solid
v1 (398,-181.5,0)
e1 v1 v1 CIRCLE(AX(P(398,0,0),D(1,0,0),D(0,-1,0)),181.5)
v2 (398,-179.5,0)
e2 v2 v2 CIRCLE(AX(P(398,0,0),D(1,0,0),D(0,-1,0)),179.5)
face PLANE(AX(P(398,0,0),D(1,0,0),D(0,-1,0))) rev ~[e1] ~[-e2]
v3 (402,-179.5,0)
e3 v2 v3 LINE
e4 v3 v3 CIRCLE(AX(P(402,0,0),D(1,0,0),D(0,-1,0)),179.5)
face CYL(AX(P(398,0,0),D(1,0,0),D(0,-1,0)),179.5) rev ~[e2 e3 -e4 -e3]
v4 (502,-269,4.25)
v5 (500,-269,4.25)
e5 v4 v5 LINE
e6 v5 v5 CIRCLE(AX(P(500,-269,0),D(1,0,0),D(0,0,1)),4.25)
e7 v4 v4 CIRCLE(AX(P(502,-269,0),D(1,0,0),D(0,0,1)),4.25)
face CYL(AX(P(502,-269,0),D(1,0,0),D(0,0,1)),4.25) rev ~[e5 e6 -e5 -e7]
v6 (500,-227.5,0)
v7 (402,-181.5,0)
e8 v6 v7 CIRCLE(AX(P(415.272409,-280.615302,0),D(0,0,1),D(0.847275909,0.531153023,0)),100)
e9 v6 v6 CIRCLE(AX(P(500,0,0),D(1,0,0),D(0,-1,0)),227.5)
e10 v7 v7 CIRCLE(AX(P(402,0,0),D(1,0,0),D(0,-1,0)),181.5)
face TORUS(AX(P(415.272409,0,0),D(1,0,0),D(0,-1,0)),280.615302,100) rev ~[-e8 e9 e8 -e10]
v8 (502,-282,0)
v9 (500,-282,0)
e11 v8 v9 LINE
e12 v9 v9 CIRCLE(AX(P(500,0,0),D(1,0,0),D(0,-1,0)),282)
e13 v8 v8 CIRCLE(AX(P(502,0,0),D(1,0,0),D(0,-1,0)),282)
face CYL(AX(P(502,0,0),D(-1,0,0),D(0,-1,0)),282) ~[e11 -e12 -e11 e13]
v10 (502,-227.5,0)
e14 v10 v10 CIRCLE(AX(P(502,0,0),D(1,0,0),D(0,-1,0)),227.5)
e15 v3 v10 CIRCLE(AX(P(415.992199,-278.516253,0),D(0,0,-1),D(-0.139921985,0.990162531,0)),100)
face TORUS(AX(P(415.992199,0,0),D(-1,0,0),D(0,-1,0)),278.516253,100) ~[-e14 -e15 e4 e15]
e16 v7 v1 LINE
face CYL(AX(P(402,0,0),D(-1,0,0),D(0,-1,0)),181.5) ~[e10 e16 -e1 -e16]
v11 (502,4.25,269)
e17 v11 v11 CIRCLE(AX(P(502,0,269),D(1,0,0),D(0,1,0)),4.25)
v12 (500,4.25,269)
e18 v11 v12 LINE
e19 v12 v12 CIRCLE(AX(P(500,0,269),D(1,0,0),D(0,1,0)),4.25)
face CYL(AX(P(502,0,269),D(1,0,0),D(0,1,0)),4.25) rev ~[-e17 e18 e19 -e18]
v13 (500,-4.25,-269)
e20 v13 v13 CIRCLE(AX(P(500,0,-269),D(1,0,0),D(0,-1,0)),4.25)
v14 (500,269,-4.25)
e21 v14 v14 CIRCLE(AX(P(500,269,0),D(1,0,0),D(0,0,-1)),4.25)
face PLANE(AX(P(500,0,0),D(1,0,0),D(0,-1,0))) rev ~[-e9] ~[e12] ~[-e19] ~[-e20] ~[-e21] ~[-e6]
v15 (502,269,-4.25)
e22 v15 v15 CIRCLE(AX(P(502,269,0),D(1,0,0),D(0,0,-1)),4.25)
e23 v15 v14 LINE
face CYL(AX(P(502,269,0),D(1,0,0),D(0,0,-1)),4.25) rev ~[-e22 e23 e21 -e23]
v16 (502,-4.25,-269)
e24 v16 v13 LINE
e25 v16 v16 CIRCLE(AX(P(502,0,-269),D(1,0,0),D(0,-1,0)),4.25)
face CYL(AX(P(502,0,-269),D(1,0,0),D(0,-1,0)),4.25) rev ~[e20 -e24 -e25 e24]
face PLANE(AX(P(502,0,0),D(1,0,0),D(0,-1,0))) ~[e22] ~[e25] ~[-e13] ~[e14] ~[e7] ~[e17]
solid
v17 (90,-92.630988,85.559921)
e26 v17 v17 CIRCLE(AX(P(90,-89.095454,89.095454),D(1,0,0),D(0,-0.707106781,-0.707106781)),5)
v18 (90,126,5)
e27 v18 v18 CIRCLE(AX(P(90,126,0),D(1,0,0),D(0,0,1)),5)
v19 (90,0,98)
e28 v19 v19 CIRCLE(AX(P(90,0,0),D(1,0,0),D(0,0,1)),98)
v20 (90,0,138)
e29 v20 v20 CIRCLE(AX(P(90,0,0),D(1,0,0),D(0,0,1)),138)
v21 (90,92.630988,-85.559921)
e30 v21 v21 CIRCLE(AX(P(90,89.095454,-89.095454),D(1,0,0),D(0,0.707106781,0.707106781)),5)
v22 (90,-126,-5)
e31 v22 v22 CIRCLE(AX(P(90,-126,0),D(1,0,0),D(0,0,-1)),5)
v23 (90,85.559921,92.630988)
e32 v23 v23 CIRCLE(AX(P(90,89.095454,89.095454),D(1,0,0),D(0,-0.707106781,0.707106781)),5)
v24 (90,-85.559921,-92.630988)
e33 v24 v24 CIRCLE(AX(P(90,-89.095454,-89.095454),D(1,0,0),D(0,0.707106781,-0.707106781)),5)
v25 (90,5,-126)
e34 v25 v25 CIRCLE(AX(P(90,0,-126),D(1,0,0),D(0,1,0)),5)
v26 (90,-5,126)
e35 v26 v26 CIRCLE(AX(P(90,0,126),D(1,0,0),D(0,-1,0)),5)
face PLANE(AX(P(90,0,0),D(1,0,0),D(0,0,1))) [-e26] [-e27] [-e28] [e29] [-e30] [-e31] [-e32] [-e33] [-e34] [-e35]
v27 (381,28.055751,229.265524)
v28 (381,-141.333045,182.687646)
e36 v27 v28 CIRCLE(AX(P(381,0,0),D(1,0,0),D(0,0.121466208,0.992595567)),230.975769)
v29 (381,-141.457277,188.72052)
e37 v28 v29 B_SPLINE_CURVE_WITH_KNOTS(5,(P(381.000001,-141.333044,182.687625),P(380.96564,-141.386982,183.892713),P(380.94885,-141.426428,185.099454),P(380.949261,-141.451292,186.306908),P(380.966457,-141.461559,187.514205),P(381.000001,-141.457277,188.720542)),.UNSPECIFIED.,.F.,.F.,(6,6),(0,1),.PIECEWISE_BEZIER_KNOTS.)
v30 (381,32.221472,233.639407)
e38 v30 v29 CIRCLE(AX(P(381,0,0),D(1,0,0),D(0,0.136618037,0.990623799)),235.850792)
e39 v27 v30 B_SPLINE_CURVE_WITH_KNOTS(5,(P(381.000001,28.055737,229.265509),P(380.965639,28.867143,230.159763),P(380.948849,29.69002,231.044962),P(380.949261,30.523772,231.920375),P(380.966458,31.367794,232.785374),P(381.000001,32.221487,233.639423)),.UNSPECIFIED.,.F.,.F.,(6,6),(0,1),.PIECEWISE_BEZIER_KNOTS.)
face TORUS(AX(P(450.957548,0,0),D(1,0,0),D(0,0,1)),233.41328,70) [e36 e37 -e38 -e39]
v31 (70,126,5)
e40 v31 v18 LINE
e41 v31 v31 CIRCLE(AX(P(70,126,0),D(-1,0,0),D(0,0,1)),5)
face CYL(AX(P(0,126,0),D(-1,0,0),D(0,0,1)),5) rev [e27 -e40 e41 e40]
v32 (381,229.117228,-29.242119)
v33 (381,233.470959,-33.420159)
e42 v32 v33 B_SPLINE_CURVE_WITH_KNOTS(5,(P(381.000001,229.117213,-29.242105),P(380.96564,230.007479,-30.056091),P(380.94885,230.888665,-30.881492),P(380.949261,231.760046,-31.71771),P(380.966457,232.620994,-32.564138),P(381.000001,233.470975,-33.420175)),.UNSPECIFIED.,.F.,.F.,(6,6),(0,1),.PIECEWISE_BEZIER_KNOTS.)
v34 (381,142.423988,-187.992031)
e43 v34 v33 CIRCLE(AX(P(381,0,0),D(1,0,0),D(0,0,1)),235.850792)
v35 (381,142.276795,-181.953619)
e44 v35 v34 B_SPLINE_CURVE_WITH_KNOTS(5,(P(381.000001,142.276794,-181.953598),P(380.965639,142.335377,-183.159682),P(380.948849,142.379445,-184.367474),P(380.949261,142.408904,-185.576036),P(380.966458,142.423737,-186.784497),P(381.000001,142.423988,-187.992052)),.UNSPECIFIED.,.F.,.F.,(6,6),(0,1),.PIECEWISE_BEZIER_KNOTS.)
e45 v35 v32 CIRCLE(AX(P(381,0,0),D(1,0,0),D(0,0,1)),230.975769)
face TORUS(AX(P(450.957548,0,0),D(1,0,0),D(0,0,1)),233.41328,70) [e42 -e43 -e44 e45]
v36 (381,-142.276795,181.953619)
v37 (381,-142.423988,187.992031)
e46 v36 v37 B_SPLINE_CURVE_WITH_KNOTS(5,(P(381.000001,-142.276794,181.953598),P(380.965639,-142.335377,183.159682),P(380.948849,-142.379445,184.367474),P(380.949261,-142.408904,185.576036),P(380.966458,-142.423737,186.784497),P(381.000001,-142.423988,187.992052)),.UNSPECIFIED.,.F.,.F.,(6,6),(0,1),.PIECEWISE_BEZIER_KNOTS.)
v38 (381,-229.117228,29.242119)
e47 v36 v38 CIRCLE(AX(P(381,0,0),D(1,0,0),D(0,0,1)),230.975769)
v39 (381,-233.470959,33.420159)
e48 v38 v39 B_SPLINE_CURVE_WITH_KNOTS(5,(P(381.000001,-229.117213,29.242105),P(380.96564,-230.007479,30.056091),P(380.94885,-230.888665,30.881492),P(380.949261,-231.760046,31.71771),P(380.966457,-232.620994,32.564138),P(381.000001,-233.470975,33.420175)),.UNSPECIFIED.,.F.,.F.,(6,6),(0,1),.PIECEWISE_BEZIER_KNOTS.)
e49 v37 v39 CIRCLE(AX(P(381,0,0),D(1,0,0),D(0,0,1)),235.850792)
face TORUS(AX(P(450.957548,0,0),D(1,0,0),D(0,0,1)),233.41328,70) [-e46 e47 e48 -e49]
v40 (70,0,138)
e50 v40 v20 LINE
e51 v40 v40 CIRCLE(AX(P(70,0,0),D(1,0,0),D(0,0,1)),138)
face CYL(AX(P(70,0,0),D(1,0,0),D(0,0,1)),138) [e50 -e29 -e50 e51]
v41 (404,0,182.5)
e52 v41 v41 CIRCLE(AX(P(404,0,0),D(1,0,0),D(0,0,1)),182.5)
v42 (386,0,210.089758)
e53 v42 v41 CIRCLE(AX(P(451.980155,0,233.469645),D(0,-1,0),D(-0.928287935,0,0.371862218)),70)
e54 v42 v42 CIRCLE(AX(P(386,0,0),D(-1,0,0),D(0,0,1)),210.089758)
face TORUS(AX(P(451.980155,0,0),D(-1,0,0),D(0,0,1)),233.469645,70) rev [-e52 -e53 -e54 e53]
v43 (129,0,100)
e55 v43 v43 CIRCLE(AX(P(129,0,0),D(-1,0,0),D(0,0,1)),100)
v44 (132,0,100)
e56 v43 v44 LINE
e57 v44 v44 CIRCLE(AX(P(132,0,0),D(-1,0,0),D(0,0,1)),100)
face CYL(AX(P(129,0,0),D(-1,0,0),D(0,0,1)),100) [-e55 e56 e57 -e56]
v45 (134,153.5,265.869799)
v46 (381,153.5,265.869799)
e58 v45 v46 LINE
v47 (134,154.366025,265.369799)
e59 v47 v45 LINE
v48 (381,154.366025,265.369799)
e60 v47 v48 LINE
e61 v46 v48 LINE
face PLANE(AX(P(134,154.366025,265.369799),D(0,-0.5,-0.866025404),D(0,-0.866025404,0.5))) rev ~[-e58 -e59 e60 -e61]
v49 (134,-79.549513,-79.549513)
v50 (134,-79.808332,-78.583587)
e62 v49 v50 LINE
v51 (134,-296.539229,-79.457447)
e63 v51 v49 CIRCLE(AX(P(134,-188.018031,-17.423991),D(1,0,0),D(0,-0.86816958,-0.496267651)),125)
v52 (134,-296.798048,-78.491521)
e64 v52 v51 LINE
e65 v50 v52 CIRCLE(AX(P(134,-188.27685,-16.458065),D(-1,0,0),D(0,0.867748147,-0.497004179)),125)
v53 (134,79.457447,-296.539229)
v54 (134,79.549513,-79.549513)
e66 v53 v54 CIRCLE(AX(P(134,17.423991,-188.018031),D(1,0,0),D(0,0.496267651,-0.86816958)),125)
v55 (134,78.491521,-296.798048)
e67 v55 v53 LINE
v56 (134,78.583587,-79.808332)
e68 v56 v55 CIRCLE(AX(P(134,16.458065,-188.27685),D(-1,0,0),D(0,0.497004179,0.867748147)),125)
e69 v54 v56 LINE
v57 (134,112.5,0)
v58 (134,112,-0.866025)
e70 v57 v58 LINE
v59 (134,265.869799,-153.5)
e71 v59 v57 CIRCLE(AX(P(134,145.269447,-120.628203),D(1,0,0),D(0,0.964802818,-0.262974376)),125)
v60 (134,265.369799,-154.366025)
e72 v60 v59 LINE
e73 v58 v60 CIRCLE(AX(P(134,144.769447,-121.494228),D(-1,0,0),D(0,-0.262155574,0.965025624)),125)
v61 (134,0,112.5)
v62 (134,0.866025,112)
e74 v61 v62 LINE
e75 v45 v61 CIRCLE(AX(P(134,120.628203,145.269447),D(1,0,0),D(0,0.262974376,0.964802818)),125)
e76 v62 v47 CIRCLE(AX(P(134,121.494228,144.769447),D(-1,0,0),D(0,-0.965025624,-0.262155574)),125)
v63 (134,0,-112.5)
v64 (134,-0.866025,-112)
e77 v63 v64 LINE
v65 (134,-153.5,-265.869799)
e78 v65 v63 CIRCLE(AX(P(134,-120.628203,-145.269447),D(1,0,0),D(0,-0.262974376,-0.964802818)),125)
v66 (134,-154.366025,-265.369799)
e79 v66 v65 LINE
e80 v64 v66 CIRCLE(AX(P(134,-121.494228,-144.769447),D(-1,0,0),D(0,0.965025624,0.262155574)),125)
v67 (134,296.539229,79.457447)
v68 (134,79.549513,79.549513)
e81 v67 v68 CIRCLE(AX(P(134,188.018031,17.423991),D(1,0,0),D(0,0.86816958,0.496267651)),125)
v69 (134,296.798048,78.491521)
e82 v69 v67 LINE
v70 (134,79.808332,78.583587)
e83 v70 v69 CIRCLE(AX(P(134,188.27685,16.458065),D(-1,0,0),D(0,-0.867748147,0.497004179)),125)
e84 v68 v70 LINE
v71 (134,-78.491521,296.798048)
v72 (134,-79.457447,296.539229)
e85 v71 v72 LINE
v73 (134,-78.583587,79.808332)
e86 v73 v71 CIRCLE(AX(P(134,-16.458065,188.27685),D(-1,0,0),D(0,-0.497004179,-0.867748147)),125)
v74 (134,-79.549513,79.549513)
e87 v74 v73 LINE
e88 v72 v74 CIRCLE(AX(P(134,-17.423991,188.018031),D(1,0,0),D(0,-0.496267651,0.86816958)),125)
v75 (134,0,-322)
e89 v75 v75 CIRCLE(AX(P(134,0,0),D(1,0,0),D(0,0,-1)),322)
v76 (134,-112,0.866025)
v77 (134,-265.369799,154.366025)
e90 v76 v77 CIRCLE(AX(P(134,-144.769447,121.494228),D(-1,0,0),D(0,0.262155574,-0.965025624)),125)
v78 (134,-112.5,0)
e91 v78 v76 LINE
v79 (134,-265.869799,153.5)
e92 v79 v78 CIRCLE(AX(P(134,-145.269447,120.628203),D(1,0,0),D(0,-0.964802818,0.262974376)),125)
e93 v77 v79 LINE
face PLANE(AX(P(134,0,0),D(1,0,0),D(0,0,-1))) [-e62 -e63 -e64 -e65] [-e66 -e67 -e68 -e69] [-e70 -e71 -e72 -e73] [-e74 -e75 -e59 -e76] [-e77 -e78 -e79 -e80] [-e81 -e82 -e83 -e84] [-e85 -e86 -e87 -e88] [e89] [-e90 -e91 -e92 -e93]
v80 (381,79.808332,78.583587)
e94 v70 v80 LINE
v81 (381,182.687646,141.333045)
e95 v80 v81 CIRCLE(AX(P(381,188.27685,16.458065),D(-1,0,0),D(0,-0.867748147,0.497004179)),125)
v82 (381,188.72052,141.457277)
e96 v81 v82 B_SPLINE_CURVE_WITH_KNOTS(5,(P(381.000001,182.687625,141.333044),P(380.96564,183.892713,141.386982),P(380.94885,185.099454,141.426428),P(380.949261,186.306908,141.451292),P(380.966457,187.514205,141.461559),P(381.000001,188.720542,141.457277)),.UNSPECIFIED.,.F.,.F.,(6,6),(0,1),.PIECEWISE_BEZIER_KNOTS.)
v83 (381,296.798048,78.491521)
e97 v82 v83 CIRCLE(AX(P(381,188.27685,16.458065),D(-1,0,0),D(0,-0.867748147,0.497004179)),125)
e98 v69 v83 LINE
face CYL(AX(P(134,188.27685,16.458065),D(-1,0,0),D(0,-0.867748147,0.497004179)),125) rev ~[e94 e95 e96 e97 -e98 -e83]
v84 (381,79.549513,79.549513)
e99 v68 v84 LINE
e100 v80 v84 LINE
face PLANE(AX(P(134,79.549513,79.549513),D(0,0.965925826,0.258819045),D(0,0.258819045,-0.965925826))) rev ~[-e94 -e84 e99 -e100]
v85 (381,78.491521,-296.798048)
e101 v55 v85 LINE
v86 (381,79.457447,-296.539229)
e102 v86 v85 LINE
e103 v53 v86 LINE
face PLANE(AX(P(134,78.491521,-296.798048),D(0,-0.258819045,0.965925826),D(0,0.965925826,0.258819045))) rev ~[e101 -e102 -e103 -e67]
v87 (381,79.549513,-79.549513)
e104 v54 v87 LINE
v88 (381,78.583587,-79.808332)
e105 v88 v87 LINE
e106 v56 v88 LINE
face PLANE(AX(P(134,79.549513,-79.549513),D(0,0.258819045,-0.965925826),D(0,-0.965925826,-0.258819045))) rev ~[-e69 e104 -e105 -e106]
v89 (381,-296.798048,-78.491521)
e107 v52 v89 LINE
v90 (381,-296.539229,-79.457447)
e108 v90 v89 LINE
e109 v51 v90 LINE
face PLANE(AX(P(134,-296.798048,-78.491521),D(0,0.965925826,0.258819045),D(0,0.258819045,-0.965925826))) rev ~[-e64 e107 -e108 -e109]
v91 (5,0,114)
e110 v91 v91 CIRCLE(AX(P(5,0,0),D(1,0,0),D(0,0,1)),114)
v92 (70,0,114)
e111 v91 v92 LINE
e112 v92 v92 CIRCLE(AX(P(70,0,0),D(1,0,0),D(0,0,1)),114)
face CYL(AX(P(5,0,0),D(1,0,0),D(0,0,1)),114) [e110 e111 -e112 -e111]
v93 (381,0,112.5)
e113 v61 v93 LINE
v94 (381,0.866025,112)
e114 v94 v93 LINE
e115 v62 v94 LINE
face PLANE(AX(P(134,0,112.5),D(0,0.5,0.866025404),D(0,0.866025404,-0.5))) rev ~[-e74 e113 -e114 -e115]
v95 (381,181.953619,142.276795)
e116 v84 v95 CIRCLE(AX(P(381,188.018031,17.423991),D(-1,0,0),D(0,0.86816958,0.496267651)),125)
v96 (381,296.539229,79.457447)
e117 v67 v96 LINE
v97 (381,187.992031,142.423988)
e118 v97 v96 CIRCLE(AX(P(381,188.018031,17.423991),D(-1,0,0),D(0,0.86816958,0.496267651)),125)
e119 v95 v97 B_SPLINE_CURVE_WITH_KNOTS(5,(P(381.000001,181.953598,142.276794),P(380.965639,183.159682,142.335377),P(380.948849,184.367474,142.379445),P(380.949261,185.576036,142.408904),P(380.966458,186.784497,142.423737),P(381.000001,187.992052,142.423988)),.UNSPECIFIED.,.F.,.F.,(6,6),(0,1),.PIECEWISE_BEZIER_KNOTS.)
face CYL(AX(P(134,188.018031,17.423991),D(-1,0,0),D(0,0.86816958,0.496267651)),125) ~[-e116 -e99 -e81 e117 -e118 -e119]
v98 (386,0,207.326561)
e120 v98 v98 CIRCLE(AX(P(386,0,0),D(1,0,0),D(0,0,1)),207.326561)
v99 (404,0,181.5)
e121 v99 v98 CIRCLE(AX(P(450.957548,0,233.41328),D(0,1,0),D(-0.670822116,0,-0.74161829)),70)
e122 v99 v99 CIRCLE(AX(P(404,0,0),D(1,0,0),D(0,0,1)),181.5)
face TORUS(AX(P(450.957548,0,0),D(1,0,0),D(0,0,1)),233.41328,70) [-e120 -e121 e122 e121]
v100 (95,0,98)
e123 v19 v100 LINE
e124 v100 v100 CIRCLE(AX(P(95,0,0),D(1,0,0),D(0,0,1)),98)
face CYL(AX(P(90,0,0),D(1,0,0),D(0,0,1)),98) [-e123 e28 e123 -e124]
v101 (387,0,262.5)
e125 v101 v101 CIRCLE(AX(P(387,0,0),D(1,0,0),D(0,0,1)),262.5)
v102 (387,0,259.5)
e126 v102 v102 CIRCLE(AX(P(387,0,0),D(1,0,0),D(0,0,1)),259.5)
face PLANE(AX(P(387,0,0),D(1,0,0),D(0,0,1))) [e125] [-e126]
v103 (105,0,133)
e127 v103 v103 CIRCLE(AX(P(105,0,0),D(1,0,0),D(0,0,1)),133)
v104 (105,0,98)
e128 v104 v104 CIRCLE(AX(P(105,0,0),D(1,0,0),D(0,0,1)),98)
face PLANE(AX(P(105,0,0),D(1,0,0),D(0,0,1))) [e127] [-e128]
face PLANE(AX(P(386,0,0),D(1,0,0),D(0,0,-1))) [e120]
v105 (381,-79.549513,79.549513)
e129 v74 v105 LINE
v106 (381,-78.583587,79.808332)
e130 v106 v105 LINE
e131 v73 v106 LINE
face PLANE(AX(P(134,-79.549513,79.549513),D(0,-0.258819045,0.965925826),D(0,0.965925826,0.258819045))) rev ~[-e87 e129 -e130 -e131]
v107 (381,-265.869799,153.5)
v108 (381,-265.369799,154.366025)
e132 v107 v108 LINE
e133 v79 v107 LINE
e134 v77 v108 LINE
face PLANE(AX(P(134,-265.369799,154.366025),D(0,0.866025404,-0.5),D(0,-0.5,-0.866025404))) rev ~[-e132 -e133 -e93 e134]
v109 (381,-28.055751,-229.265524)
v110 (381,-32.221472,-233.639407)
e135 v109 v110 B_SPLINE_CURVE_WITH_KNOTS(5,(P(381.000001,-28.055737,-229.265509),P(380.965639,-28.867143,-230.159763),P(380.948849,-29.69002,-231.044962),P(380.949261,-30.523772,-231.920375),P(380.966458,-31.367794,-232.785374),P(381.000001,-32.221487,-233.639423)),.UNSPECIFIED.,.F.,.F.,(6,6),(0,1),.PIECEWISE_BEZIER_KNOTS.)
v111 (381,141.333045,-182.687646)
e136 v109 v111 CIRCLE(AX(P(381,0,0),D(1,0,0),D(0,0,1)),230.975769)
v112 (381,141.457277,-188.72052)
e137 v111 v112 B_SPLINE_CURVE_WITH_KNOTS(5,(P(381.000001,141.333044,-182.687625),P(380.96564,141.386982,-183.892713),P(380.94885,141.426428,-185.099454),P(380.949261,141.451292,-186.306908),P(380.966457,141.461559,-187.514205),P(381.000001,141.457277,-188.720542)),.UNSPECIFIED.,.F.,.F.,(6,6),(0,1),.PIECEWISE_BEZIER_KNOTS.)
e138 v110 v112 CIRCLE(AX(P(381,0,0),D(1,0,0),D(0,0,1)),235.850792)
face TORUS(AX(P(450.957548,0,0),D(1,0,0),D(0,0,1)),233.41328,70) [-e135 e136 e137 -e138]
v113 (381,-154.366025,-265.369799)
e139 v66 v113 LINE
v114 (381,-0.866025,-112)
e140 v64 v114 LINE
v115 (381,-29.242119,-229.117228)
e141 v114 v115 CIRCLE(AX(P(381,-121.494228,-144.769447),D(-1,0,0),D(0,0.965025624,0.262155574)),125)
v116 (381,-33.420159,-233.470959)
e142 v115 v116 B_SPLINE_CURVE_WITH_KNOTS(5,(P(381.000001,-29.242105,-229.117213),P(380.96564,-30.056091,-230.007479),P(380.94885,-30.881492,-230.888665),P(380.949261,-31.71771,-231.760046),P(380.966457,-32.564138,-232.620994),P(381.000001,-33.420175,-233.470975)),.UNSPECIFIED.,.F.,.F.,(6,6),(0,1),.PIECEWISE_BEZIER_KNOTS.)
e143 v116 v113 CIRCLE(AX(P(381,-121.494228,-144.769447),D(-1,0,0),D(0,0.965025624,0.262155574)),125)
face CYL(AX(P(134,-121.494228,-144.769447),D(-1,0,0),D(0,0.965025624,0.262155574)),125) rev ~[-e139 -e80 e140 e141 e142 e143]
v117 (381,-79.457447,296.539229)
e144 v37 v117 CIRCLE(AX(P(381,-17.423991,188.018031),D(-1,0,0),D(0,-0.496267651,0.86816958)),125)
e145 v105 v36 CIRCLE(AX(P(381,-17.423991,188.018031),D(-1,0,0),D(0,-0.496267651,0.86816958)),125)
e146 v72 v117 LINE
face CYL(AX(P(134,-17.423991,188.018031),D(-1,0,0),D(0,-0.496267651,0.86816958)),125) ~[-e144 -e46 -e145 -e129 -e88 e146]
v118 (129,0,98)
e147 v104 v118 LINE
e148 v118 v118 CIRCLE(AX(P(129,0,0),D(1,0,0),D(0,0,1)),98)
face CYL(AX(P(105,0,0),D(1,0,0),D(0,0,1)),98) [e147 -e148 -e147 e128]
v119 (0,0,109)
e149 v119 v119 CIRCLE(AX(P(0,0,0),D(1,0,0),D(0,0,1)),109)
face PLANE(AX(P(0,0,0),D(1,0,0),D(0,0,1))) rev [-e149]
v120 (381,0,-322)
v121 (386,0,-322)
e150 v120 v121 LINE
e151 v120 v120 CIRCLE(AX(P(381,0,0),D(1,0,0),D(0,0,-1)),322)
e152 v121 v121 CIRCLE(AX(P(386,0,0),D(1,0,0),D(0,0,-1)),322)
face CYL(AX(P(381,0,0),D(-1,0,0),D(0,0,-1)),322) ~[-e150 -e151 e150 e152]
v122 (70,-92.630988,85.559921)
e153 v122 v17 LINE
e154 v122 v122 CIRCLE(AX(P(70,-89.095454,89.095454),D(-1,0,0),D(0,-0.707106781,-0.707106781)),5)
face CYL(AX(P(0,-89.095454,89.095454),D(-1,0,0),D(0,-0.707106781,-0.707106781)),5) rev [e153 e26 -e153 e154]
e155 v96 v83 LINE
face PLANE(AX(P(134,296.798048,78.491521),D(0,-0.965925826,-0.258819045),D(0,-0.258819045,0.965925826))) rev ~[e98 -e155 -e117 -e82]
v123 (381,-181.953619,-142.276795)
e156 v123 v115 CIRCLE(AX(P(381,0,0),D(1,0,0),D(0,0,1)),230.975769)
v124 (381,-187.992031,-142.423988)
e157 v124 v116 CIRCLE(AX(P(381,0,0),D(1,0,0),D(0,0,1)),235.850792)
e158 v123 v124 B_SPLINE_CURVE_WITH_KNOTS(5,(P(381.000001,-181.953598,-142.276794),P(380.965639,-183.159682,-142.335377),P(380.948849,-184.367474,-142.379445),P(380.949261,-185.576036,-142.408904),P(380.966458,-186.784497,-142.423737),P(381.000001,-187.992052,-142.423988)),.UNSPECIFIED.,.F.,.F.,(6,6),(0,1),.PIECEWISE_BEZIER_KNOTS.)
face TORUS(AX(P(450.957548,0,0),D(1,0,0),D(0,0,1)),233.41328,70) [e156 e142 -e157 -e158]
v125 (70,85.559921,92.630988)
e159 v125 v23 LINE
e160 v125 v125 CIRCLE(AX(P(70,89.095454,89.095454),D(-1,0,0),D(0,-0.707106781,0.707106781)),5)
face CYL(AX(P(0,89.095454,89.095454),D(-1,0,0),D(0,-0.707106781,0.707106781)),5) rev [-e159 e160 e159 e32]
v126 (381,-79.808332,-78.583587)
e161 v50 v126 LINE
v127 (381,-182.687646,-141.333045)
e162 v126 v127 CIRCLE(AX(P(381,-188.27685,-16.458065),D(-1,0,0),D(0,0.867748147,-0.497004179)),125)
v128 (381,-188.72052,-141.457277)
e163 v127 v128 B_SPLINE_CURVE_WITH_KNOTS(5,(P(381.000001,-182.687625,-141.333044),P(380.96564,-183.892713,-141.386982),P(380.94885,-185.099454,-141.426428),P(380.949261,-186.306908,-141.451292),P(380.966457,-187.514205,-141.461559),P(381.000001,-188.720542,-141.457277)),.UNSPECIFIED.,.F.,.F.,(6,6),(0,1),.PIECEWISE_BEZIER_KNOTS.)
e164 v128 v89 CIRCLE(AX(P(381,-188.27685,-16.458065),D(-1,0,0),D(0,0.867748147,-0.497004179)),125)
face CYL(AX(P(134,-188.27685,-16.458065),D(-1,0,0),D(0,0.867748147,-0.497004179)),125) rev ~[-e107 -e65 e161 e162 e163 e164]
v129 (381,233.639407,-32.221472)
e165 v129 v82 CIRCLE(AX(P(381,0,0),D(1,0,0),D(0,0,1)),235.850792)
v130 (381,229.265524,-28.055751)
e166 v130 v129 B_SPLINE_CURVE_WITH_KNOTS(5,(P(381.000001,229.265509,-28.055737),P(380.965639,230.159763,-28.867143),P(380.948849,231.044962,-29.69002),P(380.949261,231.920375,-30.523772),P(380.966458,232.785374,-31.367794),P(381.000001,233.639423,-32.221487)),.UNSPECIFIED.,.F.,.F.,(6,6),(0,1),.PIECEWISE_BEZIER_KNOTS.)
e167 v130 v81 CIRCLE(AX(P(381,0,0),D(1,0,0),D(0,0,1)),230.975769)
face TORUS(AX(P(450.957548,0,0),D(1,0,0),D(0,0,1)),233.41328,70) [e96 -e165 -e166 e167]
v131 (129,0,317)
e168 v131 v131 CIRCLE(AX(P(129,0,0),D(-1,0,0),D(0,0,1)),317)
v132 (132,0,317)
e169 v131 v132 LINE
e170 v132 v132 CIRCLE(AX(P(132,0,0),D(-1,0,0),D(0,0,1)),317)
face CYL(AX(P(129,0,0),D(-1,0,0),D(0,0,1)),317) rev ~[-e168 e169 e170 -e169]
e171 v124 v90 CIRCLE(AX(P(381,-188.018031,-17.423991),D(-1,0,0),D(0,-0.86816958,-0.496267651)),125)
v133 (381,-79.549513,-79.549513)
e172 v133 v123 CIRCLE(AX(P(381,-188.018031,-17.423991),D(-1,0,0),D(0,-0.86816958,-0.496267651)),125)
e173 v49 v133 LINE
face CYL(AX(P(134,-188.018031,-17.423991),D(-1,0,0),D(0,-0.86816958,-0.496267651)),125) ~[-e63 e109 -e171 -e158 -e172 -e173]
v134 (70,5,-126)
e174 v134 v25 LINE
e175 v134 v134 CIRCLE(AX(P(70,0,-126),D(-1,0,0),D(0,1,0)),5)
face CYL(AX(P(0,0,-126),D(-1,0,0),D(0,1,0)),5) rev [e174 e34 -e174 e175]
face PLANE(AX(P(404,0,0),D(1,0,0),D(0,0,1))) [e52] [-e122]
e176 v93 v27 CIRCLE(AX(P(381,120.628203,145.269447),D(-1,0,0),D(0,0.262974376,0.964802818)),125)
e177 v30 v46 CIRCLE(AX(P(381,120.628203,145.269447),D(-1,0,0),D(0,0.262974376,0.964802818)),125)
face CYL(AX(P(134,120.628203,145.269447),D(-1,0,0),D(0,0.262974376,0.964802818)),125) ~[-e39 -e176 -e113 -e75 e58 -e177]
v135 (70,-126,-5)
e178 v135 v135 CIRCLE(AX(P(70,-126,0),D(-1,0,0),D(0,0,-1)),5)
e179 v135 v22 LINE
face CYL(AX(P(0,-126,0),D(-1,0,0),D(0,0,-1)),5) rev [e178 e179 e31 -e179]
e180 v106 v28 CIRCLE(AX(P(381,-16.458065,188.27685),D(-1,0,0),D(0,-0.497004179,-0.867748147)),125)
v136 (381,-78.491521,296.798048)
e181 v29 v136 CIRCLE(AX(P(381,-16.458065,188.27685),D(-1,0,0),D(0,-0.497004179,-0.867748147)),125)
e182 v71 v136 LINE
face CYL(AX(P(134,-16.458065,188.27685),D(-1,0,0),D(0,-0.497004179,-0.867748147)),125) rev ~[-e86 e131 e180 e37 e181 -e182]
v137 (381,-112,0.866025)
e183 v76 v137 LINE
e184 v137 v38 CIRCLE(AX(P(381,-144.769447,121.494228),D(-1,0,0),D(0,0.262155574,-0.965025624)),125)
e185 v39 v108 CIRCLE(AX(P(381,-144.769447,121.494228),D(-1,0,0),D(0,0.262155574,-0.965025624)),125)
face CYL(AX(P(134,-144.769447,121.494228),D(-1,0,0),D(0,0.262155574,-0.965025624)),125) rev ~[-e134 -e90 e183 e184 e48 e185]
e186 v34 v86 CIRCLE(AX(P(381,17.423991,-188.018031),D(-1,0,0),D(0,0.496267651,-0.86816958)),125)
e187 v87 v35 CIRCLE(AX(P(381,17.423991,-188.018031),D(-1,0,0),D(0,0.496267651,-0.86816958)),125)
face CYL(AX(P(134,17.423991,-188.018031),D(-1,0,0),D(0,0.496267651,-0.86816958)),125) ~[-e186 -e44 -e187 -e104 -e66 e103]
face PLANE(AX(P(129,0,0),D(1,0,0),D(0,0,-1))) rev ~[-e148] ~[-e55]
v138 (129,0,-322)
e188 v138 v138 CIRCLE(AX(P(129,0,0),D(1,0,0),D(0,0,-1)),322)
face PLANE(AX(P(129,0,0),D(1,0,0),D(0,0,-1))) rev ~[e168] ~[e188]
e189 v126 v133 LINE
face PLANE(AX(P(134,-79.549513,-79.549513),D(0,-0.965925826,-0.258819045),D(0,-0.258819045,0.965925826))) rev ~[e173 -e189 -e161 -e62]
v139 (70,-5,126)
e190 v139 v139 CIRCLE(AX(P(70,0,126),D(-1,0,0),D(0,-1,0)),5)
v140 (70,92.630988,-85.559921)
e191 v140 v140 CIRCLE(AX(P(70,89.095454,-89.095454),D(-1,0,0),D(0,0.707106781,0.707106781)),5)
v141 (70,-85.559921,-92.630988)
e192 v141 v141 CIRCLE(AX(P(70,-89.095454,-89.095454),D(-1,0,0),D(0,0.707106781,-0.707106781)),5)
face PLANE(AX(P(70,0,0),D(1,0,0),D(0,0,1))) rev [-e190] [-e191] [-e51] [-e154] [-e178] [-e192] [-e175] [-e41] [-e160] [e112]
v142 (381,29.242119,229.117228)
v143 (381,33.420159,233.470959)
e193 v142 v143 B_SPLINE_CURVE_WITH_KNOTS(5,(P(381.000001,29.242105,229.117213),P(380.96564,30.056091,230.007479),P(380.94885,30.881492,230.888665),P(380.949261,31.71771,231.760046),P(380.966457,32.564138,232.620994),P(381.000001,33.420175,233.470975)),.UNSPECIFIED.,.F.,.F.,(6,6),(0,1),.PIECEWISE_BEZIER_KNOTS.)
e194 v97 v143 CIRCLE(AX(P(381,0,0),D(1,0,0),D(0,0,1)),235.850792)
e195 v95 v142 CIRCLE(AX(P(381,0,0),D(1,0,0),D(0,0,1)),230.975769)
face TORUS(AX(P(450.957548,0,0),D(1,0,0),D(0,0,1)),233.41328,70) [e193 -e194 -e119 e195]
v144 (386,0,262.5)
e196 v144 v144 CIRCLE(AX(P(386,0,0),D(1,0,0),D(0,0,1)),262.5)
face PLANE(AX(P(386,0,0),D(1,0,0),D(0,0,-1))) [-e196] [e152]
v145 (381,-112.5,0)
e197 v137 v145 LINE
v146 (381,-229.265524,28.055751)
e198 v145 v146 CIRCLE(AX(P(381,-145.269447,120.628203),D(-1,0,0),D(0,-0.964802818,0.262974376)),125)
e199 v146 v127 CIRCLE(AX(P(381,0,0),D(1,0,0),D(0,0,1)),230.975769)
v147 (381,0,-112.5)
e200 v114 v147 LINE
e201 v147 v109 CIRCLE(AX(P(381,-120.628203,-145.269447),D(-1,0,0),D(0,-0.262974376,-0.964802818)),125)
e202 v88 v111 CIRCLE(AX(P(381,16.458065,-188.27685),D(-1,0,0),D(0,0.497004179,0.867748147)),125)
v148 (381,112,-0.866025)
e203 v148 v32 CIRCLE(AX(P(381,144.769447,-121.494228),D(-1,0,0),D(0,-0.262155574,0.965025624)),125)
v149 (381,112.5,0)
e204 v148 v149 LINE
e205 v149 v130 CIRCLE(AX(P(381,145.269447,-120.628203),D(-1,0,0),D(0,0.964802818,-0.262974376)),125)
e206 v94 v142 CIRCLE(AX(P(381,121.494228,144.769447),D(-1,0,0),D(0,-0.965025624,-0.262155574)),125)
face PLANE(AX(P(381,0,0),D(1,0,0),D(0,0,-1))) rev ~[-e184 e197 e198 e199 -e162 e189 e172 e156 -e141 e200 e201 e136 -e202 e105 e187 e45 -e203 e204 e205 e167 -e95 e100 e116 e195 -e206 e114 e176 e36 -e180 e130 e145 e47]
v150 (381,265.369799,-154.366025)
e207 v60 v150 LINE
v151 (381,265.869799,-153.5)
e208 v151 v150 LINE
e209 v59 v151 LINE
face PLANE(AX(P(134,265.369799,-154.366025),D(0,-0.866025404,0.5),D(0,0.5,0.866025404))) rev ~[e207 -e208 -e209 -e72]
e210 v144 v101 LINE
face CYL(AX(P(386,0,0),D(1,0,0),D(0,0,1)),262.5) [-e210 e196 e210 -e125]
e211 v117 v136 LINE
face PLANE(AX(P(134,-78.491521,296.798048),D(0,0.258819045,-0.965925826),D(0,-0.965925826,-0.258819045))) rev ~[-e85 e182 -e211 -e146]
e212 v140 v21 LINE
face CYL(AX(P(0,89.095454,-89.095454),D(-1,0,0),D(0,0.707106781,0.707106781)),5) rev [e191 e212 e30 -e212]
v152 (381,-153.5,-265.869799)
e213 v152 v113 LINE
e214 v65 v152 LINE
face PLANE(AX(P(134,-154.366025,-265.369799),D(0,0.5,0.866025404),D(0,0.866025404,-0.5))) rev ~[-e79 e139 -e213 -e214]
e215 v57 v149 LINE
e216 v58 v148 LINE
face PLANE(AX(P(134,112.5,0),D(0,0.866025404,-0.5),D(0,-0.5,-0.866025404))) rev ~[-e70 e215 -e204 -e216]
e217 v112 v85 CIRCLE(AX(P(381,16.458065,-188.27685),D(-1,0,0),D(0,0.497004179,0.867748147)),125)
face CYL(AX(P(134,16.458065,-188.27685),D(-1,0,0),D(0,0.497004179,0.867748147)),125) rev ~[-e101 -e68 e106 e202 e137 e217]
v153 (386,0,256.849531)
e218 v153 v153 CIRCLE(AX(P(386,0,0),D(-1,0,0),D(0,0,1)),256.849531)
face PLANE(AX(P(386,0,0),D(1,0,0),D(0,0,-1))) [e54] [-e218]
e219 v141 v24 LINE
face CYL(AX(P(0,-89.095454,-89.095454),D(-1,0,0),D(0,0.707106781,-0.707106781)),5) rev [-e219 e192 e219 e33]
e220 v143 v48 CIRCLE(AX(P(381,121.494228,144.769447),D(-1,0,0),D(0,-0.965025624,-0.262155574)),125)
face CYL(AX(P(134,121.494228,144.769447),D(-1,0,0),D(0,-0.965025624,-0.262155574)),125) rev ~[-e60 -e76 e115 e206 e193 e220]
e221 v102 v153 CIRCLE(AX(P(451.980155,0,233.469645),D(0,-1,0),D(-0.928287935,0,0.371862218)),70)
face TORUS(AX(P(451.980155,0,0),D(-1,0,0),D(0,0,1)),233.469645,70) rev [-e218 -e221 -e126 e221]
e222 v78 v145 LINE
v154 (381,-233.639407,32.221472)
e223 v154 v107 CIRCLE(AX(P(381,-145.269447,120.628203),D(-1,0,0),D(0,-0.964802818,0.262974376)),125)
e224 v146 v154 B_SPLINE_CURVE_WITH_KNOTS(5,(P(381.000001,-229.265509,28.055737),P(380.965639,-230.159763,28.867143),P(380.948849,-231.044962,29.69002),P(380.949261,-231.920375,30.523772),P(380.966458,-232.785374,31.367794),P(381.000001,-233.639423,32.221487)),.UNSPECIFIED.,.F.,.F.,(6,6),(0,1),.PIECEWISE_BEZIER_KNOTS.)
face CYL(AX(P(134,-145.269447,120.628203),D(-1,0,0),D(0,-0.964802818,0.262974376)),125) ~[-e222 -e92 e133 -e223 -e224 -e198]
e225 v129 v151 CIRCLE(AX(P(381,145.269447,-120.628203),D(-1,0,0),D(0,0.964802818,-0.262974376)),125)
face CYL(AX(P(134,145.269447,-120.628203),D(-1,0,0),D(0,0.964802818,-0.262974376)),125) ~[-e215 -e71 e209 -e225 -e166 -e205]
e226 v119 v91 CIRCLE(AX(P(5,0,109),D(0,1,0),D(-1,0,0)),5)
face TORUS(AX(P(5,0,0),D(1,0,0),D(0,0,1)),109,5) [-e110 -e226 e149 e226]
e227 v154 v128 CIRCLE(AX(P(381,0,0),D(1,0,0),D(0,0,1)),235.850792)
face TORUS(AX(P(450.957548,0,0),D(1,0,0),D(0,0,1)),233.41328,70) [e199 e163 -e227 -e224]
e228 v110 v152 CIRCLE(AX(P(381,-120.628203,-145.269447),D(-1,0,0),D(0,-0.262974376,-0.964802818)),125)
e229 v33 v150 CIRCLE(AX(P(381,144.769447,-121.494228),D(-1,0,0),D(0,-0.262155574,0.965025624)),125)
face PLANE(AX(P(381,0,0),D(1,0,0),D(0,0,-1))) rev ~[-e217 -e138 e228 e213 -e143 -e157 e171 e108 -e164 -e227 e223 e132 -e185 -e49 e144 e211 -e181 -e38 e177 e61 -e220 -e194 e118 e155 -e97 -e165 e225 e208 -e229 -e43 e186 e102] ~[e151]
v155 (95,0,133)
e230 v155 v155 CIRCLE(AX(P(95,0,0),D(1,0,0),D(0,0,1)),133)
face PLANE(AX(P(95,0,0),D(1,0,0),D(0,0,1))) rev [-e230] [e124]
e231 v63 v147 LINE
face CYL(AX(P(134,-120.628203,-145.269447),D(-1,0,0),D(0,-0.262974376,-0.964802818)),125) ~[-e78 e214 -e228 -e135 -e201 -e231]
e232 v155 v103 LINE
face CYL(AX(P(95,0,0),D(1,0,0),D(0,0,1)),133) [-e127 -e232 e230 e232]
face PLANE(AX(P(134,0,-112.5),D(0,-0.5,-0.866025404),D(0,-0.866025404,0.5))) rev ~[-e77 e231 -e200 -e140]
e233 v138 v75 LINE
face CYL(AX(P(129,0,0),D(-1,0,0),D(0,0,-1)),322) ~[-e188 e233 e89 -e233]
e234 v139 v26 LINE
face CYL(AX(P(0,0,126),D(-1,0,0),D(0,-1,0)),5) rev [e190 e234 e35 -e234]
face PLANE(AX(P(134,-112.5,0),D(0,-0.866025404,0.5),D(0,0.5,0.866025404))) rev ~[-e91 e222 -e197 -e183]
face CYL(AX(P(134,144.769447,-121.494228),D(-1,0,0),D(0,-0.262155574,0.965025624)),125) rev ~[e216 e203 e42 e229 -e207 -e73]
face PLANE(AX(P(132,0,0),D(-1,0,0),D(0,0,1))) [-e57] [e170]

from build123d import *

# Parameters (mm, degrees)
SKETCH2_R         = 322
EXTRUDE1_DEPTH    = 5
SKETCH9_R         = 317
SKETCH9_R_2       = 100
EXTRUDE7_DEPTH    = 3
SKETCH3_R         = 322
EXTRUDE2_DEPTH    = 5
EXTRUDE3_DEPTH    = 252
CIRPATTERN1_COUNT = 8
SKETCH7_R         = 4.25
EXTRUDE5_DEPTH    = 5
CIRPATTERN2_COUNT = 4
SKETCH8_R         = 5
EXTRUDE6_DEPTH    = 90
CIRPATTERN3_COUNT = 8


with BuildPart() as part:
    # Sketch1 → Revolve1 (revolve)
    with BuildSketch(Plane.XY, mode=Mode.PRIVATE) as revolve1_sk:
        with BuildLine():
            Line((0, 0), (0, 109))
            ThreePointArc((0, 109), (1.464466094, 112.535533906), (5, 114))
            Line((5, 114), (70, 114))
            Line((70, 114), (70, 138))
            Line((70, 138), (90, 138))
            Line((90, 138), (90, 98))
            Line((90, 98), (95, 98))
            Line((95, 98), (95, 133))
            Line((95, 133), (105, 133))
            Line((105, 133), (105, 98))
            Line((105, 98), (129, 98))
            Line((129, 98), (129, 0))
            Line((129, 0), (0, 0))
        make_face()
    revolve(revolve1_sk.sketch.rotate(Axis((0, 0, 0), (1, 0, 0)), 90), axis=Axis((0, 0, 0), (1, 0, 0)))

    # Sketch2 → Extrude1 (add)
    with BuildSketch(Plane(origin=(129, 0, 0), x_dir=(0, 0, -1), z_dir=(1, 0, 0))):
        Circle(SKETCH2_R)
    extrude(amount=EXTRUDE1_DEPTH)

    # Sketch9 → Extrude7 (cut)
    with BuildSketch(Plane.ZY.offset(-129)):
        Circle(SKETCH9_R)
        Circle(SKETCH9_R_2, mode=Mode.SUBTRACT)
    extrude(amount=-EXTRUDE7_DEPTH, mode=Mode.SUBTRACT)



with BuildPart() as body_2:
    # Sketch3 → Extrude2 (new body)
    with BuildSketch(Plane(origin=(381, 0, 0), x_dir=(0, 0, -1), z_dir=(1, 0, 0))):
        Circle(SKETCH3_R)
    extrude(amount=EXTRUDE2_DEPTH)


with BuildPart() as part_1:
    add(part.part)

    add(body_2.part)  # Extrude3 merges body 2
    # Sketch4 → Extrude3 (add)
    with BuildSketch(Plane(origin=(134, 0, 0), x_dir=(0, 0, -1), z_dir=(1, 0, 0))):
        with BuildLine():
            Line((0, 112.5), (0.866025404, 112))
            ThreePointArc((0.866025404, 112), (33.143390798, 233.195288477), (154.366025404, 265.369798962))
            Line((154.366025404, 265.369798962), (153.5, 265.869798962))
            ThreePointArc((153.5, 265.869798962), (32.277365394, 233.695288477), (0, 112.5))
        make_face()
    extrude3 = extrude(amount=EXTRUDE3_DEPTH)

    # CirPattern1: Extrude3 ×8 about axis
    cirpattern1_axis = Axis((0, 0, 0), (1, 0, 0))
    for i in range(1, CIRPATTERN1_COUNT):
        add(extrude3.rotate(cirpattern1_axis, i * 360 / CIRPATTERN1_COUNT))

    # Sketch5 → Revolve2 (revolve)
    with BuildSketch(Plane.XY, mode=Mode.PRIVATE) as revolve2_sk:
        with BuildLine():
            Line((386, 262.5), (387, 262.5))
            Line((387, 262.5), (387, 259.5))
            ThreePointArc((387, 259.5), (383.626238522, 218.378520193), (404, 182.5))
            Line((404, 182.5), (404, 181.5))
            ThreePointArc((404, 181.5), (382.750164416, 217.673114865), (386, 259.5))
            Line((386, 259.5), (386, 262.5))
        make_face()
    revolve(revolve2_sk.sketch.rotate(Axis((0, 0, 0), (1, 0, 0)), 90), axis=Axis((0, 0, 0), (1, 0, 0)))

    # Sketch8 → Extrude6 (cut)
    with BuildSketch(Plane(origin=(0, 0, 0), x_dir=(0, 0, -1), z_dir=(1, 0, 0))):
        with Locations(Location((0, 126, 0), (0, 0, 180))):
            Circle(SKETCH8_R)
    extrude6 = extrude(amount=EXTRUDE6_DEPTH, mode=Mode.SUBTRACT)

    # CirPattern3: Extrude6 ×8 about axis
    cirpattern3_axis = Axis((0, 0, 0), (1, 0, 0))
    for i in range(1, CIRPATTERN3_COUNT):
        add(extrude6.rotate(cirpattern3_axis, i * 360 / CIRPATTERN3_COUNT), mode=Mode.SUBTRACT)


with BuildPart() as body_2_2:
    # Sketch6 → Revolve3 (revolve)
    with BuildSketch(Plane.XY, mode=Mode.PRIVATE) as revolve3_sk:
        with BuildLine():
            Line((502, 282), (500, 282))
            Line((500, 282), (500, 227.5))
            ThreePointArc((500, 227.5), (457.763122811, 190.091607925), (402, 181.5))
            Line((402, 181.5), (398, 181.5))
            Line((398, 181.5), (398, 179.5))
            Line((398, 179.5), (402, 179.5))
            ThreePointArc((402, 179.5), (459.265305263, 188.363947369), (502, 227.5))
            Line((502, 227.5), (502, 282))
        make_face()
    revolve(revolve3_sk.sketch.rotate(Axis((0, 0, 0), (1, 0, 0)), 180), axis=Axis((0, 0, 0), (1, 0, 0)))

    # Sketch7 → Extrude5 (cut)
    with BuildSketch(Plane(origin=(502, 0, 0), x_dir=(0, 0, -1), z_dir=(1, 0, 0))):
        with Locations((0, 269)):
            Circle(SKETCH7_R)
    extrude5 = extrude(amount=-EXTRUDE5_DEPTH, mode=Mode.SUBTRACT)

    # CirPattern2: Extrude5 ×4 about axis
    cirpattern2_axis = Axis((0, 0, 0), (1, 0, 0))
    for i in range(1, CIRPATTERN2_COUNT):
        add(extrude5.rotate(cirpattern2_axis, i * 360 / CIRPATTERN2_COUNT), mode=Mode.SUBTRACT)


solid = Compound([part_1.part, body_2_2.part])
